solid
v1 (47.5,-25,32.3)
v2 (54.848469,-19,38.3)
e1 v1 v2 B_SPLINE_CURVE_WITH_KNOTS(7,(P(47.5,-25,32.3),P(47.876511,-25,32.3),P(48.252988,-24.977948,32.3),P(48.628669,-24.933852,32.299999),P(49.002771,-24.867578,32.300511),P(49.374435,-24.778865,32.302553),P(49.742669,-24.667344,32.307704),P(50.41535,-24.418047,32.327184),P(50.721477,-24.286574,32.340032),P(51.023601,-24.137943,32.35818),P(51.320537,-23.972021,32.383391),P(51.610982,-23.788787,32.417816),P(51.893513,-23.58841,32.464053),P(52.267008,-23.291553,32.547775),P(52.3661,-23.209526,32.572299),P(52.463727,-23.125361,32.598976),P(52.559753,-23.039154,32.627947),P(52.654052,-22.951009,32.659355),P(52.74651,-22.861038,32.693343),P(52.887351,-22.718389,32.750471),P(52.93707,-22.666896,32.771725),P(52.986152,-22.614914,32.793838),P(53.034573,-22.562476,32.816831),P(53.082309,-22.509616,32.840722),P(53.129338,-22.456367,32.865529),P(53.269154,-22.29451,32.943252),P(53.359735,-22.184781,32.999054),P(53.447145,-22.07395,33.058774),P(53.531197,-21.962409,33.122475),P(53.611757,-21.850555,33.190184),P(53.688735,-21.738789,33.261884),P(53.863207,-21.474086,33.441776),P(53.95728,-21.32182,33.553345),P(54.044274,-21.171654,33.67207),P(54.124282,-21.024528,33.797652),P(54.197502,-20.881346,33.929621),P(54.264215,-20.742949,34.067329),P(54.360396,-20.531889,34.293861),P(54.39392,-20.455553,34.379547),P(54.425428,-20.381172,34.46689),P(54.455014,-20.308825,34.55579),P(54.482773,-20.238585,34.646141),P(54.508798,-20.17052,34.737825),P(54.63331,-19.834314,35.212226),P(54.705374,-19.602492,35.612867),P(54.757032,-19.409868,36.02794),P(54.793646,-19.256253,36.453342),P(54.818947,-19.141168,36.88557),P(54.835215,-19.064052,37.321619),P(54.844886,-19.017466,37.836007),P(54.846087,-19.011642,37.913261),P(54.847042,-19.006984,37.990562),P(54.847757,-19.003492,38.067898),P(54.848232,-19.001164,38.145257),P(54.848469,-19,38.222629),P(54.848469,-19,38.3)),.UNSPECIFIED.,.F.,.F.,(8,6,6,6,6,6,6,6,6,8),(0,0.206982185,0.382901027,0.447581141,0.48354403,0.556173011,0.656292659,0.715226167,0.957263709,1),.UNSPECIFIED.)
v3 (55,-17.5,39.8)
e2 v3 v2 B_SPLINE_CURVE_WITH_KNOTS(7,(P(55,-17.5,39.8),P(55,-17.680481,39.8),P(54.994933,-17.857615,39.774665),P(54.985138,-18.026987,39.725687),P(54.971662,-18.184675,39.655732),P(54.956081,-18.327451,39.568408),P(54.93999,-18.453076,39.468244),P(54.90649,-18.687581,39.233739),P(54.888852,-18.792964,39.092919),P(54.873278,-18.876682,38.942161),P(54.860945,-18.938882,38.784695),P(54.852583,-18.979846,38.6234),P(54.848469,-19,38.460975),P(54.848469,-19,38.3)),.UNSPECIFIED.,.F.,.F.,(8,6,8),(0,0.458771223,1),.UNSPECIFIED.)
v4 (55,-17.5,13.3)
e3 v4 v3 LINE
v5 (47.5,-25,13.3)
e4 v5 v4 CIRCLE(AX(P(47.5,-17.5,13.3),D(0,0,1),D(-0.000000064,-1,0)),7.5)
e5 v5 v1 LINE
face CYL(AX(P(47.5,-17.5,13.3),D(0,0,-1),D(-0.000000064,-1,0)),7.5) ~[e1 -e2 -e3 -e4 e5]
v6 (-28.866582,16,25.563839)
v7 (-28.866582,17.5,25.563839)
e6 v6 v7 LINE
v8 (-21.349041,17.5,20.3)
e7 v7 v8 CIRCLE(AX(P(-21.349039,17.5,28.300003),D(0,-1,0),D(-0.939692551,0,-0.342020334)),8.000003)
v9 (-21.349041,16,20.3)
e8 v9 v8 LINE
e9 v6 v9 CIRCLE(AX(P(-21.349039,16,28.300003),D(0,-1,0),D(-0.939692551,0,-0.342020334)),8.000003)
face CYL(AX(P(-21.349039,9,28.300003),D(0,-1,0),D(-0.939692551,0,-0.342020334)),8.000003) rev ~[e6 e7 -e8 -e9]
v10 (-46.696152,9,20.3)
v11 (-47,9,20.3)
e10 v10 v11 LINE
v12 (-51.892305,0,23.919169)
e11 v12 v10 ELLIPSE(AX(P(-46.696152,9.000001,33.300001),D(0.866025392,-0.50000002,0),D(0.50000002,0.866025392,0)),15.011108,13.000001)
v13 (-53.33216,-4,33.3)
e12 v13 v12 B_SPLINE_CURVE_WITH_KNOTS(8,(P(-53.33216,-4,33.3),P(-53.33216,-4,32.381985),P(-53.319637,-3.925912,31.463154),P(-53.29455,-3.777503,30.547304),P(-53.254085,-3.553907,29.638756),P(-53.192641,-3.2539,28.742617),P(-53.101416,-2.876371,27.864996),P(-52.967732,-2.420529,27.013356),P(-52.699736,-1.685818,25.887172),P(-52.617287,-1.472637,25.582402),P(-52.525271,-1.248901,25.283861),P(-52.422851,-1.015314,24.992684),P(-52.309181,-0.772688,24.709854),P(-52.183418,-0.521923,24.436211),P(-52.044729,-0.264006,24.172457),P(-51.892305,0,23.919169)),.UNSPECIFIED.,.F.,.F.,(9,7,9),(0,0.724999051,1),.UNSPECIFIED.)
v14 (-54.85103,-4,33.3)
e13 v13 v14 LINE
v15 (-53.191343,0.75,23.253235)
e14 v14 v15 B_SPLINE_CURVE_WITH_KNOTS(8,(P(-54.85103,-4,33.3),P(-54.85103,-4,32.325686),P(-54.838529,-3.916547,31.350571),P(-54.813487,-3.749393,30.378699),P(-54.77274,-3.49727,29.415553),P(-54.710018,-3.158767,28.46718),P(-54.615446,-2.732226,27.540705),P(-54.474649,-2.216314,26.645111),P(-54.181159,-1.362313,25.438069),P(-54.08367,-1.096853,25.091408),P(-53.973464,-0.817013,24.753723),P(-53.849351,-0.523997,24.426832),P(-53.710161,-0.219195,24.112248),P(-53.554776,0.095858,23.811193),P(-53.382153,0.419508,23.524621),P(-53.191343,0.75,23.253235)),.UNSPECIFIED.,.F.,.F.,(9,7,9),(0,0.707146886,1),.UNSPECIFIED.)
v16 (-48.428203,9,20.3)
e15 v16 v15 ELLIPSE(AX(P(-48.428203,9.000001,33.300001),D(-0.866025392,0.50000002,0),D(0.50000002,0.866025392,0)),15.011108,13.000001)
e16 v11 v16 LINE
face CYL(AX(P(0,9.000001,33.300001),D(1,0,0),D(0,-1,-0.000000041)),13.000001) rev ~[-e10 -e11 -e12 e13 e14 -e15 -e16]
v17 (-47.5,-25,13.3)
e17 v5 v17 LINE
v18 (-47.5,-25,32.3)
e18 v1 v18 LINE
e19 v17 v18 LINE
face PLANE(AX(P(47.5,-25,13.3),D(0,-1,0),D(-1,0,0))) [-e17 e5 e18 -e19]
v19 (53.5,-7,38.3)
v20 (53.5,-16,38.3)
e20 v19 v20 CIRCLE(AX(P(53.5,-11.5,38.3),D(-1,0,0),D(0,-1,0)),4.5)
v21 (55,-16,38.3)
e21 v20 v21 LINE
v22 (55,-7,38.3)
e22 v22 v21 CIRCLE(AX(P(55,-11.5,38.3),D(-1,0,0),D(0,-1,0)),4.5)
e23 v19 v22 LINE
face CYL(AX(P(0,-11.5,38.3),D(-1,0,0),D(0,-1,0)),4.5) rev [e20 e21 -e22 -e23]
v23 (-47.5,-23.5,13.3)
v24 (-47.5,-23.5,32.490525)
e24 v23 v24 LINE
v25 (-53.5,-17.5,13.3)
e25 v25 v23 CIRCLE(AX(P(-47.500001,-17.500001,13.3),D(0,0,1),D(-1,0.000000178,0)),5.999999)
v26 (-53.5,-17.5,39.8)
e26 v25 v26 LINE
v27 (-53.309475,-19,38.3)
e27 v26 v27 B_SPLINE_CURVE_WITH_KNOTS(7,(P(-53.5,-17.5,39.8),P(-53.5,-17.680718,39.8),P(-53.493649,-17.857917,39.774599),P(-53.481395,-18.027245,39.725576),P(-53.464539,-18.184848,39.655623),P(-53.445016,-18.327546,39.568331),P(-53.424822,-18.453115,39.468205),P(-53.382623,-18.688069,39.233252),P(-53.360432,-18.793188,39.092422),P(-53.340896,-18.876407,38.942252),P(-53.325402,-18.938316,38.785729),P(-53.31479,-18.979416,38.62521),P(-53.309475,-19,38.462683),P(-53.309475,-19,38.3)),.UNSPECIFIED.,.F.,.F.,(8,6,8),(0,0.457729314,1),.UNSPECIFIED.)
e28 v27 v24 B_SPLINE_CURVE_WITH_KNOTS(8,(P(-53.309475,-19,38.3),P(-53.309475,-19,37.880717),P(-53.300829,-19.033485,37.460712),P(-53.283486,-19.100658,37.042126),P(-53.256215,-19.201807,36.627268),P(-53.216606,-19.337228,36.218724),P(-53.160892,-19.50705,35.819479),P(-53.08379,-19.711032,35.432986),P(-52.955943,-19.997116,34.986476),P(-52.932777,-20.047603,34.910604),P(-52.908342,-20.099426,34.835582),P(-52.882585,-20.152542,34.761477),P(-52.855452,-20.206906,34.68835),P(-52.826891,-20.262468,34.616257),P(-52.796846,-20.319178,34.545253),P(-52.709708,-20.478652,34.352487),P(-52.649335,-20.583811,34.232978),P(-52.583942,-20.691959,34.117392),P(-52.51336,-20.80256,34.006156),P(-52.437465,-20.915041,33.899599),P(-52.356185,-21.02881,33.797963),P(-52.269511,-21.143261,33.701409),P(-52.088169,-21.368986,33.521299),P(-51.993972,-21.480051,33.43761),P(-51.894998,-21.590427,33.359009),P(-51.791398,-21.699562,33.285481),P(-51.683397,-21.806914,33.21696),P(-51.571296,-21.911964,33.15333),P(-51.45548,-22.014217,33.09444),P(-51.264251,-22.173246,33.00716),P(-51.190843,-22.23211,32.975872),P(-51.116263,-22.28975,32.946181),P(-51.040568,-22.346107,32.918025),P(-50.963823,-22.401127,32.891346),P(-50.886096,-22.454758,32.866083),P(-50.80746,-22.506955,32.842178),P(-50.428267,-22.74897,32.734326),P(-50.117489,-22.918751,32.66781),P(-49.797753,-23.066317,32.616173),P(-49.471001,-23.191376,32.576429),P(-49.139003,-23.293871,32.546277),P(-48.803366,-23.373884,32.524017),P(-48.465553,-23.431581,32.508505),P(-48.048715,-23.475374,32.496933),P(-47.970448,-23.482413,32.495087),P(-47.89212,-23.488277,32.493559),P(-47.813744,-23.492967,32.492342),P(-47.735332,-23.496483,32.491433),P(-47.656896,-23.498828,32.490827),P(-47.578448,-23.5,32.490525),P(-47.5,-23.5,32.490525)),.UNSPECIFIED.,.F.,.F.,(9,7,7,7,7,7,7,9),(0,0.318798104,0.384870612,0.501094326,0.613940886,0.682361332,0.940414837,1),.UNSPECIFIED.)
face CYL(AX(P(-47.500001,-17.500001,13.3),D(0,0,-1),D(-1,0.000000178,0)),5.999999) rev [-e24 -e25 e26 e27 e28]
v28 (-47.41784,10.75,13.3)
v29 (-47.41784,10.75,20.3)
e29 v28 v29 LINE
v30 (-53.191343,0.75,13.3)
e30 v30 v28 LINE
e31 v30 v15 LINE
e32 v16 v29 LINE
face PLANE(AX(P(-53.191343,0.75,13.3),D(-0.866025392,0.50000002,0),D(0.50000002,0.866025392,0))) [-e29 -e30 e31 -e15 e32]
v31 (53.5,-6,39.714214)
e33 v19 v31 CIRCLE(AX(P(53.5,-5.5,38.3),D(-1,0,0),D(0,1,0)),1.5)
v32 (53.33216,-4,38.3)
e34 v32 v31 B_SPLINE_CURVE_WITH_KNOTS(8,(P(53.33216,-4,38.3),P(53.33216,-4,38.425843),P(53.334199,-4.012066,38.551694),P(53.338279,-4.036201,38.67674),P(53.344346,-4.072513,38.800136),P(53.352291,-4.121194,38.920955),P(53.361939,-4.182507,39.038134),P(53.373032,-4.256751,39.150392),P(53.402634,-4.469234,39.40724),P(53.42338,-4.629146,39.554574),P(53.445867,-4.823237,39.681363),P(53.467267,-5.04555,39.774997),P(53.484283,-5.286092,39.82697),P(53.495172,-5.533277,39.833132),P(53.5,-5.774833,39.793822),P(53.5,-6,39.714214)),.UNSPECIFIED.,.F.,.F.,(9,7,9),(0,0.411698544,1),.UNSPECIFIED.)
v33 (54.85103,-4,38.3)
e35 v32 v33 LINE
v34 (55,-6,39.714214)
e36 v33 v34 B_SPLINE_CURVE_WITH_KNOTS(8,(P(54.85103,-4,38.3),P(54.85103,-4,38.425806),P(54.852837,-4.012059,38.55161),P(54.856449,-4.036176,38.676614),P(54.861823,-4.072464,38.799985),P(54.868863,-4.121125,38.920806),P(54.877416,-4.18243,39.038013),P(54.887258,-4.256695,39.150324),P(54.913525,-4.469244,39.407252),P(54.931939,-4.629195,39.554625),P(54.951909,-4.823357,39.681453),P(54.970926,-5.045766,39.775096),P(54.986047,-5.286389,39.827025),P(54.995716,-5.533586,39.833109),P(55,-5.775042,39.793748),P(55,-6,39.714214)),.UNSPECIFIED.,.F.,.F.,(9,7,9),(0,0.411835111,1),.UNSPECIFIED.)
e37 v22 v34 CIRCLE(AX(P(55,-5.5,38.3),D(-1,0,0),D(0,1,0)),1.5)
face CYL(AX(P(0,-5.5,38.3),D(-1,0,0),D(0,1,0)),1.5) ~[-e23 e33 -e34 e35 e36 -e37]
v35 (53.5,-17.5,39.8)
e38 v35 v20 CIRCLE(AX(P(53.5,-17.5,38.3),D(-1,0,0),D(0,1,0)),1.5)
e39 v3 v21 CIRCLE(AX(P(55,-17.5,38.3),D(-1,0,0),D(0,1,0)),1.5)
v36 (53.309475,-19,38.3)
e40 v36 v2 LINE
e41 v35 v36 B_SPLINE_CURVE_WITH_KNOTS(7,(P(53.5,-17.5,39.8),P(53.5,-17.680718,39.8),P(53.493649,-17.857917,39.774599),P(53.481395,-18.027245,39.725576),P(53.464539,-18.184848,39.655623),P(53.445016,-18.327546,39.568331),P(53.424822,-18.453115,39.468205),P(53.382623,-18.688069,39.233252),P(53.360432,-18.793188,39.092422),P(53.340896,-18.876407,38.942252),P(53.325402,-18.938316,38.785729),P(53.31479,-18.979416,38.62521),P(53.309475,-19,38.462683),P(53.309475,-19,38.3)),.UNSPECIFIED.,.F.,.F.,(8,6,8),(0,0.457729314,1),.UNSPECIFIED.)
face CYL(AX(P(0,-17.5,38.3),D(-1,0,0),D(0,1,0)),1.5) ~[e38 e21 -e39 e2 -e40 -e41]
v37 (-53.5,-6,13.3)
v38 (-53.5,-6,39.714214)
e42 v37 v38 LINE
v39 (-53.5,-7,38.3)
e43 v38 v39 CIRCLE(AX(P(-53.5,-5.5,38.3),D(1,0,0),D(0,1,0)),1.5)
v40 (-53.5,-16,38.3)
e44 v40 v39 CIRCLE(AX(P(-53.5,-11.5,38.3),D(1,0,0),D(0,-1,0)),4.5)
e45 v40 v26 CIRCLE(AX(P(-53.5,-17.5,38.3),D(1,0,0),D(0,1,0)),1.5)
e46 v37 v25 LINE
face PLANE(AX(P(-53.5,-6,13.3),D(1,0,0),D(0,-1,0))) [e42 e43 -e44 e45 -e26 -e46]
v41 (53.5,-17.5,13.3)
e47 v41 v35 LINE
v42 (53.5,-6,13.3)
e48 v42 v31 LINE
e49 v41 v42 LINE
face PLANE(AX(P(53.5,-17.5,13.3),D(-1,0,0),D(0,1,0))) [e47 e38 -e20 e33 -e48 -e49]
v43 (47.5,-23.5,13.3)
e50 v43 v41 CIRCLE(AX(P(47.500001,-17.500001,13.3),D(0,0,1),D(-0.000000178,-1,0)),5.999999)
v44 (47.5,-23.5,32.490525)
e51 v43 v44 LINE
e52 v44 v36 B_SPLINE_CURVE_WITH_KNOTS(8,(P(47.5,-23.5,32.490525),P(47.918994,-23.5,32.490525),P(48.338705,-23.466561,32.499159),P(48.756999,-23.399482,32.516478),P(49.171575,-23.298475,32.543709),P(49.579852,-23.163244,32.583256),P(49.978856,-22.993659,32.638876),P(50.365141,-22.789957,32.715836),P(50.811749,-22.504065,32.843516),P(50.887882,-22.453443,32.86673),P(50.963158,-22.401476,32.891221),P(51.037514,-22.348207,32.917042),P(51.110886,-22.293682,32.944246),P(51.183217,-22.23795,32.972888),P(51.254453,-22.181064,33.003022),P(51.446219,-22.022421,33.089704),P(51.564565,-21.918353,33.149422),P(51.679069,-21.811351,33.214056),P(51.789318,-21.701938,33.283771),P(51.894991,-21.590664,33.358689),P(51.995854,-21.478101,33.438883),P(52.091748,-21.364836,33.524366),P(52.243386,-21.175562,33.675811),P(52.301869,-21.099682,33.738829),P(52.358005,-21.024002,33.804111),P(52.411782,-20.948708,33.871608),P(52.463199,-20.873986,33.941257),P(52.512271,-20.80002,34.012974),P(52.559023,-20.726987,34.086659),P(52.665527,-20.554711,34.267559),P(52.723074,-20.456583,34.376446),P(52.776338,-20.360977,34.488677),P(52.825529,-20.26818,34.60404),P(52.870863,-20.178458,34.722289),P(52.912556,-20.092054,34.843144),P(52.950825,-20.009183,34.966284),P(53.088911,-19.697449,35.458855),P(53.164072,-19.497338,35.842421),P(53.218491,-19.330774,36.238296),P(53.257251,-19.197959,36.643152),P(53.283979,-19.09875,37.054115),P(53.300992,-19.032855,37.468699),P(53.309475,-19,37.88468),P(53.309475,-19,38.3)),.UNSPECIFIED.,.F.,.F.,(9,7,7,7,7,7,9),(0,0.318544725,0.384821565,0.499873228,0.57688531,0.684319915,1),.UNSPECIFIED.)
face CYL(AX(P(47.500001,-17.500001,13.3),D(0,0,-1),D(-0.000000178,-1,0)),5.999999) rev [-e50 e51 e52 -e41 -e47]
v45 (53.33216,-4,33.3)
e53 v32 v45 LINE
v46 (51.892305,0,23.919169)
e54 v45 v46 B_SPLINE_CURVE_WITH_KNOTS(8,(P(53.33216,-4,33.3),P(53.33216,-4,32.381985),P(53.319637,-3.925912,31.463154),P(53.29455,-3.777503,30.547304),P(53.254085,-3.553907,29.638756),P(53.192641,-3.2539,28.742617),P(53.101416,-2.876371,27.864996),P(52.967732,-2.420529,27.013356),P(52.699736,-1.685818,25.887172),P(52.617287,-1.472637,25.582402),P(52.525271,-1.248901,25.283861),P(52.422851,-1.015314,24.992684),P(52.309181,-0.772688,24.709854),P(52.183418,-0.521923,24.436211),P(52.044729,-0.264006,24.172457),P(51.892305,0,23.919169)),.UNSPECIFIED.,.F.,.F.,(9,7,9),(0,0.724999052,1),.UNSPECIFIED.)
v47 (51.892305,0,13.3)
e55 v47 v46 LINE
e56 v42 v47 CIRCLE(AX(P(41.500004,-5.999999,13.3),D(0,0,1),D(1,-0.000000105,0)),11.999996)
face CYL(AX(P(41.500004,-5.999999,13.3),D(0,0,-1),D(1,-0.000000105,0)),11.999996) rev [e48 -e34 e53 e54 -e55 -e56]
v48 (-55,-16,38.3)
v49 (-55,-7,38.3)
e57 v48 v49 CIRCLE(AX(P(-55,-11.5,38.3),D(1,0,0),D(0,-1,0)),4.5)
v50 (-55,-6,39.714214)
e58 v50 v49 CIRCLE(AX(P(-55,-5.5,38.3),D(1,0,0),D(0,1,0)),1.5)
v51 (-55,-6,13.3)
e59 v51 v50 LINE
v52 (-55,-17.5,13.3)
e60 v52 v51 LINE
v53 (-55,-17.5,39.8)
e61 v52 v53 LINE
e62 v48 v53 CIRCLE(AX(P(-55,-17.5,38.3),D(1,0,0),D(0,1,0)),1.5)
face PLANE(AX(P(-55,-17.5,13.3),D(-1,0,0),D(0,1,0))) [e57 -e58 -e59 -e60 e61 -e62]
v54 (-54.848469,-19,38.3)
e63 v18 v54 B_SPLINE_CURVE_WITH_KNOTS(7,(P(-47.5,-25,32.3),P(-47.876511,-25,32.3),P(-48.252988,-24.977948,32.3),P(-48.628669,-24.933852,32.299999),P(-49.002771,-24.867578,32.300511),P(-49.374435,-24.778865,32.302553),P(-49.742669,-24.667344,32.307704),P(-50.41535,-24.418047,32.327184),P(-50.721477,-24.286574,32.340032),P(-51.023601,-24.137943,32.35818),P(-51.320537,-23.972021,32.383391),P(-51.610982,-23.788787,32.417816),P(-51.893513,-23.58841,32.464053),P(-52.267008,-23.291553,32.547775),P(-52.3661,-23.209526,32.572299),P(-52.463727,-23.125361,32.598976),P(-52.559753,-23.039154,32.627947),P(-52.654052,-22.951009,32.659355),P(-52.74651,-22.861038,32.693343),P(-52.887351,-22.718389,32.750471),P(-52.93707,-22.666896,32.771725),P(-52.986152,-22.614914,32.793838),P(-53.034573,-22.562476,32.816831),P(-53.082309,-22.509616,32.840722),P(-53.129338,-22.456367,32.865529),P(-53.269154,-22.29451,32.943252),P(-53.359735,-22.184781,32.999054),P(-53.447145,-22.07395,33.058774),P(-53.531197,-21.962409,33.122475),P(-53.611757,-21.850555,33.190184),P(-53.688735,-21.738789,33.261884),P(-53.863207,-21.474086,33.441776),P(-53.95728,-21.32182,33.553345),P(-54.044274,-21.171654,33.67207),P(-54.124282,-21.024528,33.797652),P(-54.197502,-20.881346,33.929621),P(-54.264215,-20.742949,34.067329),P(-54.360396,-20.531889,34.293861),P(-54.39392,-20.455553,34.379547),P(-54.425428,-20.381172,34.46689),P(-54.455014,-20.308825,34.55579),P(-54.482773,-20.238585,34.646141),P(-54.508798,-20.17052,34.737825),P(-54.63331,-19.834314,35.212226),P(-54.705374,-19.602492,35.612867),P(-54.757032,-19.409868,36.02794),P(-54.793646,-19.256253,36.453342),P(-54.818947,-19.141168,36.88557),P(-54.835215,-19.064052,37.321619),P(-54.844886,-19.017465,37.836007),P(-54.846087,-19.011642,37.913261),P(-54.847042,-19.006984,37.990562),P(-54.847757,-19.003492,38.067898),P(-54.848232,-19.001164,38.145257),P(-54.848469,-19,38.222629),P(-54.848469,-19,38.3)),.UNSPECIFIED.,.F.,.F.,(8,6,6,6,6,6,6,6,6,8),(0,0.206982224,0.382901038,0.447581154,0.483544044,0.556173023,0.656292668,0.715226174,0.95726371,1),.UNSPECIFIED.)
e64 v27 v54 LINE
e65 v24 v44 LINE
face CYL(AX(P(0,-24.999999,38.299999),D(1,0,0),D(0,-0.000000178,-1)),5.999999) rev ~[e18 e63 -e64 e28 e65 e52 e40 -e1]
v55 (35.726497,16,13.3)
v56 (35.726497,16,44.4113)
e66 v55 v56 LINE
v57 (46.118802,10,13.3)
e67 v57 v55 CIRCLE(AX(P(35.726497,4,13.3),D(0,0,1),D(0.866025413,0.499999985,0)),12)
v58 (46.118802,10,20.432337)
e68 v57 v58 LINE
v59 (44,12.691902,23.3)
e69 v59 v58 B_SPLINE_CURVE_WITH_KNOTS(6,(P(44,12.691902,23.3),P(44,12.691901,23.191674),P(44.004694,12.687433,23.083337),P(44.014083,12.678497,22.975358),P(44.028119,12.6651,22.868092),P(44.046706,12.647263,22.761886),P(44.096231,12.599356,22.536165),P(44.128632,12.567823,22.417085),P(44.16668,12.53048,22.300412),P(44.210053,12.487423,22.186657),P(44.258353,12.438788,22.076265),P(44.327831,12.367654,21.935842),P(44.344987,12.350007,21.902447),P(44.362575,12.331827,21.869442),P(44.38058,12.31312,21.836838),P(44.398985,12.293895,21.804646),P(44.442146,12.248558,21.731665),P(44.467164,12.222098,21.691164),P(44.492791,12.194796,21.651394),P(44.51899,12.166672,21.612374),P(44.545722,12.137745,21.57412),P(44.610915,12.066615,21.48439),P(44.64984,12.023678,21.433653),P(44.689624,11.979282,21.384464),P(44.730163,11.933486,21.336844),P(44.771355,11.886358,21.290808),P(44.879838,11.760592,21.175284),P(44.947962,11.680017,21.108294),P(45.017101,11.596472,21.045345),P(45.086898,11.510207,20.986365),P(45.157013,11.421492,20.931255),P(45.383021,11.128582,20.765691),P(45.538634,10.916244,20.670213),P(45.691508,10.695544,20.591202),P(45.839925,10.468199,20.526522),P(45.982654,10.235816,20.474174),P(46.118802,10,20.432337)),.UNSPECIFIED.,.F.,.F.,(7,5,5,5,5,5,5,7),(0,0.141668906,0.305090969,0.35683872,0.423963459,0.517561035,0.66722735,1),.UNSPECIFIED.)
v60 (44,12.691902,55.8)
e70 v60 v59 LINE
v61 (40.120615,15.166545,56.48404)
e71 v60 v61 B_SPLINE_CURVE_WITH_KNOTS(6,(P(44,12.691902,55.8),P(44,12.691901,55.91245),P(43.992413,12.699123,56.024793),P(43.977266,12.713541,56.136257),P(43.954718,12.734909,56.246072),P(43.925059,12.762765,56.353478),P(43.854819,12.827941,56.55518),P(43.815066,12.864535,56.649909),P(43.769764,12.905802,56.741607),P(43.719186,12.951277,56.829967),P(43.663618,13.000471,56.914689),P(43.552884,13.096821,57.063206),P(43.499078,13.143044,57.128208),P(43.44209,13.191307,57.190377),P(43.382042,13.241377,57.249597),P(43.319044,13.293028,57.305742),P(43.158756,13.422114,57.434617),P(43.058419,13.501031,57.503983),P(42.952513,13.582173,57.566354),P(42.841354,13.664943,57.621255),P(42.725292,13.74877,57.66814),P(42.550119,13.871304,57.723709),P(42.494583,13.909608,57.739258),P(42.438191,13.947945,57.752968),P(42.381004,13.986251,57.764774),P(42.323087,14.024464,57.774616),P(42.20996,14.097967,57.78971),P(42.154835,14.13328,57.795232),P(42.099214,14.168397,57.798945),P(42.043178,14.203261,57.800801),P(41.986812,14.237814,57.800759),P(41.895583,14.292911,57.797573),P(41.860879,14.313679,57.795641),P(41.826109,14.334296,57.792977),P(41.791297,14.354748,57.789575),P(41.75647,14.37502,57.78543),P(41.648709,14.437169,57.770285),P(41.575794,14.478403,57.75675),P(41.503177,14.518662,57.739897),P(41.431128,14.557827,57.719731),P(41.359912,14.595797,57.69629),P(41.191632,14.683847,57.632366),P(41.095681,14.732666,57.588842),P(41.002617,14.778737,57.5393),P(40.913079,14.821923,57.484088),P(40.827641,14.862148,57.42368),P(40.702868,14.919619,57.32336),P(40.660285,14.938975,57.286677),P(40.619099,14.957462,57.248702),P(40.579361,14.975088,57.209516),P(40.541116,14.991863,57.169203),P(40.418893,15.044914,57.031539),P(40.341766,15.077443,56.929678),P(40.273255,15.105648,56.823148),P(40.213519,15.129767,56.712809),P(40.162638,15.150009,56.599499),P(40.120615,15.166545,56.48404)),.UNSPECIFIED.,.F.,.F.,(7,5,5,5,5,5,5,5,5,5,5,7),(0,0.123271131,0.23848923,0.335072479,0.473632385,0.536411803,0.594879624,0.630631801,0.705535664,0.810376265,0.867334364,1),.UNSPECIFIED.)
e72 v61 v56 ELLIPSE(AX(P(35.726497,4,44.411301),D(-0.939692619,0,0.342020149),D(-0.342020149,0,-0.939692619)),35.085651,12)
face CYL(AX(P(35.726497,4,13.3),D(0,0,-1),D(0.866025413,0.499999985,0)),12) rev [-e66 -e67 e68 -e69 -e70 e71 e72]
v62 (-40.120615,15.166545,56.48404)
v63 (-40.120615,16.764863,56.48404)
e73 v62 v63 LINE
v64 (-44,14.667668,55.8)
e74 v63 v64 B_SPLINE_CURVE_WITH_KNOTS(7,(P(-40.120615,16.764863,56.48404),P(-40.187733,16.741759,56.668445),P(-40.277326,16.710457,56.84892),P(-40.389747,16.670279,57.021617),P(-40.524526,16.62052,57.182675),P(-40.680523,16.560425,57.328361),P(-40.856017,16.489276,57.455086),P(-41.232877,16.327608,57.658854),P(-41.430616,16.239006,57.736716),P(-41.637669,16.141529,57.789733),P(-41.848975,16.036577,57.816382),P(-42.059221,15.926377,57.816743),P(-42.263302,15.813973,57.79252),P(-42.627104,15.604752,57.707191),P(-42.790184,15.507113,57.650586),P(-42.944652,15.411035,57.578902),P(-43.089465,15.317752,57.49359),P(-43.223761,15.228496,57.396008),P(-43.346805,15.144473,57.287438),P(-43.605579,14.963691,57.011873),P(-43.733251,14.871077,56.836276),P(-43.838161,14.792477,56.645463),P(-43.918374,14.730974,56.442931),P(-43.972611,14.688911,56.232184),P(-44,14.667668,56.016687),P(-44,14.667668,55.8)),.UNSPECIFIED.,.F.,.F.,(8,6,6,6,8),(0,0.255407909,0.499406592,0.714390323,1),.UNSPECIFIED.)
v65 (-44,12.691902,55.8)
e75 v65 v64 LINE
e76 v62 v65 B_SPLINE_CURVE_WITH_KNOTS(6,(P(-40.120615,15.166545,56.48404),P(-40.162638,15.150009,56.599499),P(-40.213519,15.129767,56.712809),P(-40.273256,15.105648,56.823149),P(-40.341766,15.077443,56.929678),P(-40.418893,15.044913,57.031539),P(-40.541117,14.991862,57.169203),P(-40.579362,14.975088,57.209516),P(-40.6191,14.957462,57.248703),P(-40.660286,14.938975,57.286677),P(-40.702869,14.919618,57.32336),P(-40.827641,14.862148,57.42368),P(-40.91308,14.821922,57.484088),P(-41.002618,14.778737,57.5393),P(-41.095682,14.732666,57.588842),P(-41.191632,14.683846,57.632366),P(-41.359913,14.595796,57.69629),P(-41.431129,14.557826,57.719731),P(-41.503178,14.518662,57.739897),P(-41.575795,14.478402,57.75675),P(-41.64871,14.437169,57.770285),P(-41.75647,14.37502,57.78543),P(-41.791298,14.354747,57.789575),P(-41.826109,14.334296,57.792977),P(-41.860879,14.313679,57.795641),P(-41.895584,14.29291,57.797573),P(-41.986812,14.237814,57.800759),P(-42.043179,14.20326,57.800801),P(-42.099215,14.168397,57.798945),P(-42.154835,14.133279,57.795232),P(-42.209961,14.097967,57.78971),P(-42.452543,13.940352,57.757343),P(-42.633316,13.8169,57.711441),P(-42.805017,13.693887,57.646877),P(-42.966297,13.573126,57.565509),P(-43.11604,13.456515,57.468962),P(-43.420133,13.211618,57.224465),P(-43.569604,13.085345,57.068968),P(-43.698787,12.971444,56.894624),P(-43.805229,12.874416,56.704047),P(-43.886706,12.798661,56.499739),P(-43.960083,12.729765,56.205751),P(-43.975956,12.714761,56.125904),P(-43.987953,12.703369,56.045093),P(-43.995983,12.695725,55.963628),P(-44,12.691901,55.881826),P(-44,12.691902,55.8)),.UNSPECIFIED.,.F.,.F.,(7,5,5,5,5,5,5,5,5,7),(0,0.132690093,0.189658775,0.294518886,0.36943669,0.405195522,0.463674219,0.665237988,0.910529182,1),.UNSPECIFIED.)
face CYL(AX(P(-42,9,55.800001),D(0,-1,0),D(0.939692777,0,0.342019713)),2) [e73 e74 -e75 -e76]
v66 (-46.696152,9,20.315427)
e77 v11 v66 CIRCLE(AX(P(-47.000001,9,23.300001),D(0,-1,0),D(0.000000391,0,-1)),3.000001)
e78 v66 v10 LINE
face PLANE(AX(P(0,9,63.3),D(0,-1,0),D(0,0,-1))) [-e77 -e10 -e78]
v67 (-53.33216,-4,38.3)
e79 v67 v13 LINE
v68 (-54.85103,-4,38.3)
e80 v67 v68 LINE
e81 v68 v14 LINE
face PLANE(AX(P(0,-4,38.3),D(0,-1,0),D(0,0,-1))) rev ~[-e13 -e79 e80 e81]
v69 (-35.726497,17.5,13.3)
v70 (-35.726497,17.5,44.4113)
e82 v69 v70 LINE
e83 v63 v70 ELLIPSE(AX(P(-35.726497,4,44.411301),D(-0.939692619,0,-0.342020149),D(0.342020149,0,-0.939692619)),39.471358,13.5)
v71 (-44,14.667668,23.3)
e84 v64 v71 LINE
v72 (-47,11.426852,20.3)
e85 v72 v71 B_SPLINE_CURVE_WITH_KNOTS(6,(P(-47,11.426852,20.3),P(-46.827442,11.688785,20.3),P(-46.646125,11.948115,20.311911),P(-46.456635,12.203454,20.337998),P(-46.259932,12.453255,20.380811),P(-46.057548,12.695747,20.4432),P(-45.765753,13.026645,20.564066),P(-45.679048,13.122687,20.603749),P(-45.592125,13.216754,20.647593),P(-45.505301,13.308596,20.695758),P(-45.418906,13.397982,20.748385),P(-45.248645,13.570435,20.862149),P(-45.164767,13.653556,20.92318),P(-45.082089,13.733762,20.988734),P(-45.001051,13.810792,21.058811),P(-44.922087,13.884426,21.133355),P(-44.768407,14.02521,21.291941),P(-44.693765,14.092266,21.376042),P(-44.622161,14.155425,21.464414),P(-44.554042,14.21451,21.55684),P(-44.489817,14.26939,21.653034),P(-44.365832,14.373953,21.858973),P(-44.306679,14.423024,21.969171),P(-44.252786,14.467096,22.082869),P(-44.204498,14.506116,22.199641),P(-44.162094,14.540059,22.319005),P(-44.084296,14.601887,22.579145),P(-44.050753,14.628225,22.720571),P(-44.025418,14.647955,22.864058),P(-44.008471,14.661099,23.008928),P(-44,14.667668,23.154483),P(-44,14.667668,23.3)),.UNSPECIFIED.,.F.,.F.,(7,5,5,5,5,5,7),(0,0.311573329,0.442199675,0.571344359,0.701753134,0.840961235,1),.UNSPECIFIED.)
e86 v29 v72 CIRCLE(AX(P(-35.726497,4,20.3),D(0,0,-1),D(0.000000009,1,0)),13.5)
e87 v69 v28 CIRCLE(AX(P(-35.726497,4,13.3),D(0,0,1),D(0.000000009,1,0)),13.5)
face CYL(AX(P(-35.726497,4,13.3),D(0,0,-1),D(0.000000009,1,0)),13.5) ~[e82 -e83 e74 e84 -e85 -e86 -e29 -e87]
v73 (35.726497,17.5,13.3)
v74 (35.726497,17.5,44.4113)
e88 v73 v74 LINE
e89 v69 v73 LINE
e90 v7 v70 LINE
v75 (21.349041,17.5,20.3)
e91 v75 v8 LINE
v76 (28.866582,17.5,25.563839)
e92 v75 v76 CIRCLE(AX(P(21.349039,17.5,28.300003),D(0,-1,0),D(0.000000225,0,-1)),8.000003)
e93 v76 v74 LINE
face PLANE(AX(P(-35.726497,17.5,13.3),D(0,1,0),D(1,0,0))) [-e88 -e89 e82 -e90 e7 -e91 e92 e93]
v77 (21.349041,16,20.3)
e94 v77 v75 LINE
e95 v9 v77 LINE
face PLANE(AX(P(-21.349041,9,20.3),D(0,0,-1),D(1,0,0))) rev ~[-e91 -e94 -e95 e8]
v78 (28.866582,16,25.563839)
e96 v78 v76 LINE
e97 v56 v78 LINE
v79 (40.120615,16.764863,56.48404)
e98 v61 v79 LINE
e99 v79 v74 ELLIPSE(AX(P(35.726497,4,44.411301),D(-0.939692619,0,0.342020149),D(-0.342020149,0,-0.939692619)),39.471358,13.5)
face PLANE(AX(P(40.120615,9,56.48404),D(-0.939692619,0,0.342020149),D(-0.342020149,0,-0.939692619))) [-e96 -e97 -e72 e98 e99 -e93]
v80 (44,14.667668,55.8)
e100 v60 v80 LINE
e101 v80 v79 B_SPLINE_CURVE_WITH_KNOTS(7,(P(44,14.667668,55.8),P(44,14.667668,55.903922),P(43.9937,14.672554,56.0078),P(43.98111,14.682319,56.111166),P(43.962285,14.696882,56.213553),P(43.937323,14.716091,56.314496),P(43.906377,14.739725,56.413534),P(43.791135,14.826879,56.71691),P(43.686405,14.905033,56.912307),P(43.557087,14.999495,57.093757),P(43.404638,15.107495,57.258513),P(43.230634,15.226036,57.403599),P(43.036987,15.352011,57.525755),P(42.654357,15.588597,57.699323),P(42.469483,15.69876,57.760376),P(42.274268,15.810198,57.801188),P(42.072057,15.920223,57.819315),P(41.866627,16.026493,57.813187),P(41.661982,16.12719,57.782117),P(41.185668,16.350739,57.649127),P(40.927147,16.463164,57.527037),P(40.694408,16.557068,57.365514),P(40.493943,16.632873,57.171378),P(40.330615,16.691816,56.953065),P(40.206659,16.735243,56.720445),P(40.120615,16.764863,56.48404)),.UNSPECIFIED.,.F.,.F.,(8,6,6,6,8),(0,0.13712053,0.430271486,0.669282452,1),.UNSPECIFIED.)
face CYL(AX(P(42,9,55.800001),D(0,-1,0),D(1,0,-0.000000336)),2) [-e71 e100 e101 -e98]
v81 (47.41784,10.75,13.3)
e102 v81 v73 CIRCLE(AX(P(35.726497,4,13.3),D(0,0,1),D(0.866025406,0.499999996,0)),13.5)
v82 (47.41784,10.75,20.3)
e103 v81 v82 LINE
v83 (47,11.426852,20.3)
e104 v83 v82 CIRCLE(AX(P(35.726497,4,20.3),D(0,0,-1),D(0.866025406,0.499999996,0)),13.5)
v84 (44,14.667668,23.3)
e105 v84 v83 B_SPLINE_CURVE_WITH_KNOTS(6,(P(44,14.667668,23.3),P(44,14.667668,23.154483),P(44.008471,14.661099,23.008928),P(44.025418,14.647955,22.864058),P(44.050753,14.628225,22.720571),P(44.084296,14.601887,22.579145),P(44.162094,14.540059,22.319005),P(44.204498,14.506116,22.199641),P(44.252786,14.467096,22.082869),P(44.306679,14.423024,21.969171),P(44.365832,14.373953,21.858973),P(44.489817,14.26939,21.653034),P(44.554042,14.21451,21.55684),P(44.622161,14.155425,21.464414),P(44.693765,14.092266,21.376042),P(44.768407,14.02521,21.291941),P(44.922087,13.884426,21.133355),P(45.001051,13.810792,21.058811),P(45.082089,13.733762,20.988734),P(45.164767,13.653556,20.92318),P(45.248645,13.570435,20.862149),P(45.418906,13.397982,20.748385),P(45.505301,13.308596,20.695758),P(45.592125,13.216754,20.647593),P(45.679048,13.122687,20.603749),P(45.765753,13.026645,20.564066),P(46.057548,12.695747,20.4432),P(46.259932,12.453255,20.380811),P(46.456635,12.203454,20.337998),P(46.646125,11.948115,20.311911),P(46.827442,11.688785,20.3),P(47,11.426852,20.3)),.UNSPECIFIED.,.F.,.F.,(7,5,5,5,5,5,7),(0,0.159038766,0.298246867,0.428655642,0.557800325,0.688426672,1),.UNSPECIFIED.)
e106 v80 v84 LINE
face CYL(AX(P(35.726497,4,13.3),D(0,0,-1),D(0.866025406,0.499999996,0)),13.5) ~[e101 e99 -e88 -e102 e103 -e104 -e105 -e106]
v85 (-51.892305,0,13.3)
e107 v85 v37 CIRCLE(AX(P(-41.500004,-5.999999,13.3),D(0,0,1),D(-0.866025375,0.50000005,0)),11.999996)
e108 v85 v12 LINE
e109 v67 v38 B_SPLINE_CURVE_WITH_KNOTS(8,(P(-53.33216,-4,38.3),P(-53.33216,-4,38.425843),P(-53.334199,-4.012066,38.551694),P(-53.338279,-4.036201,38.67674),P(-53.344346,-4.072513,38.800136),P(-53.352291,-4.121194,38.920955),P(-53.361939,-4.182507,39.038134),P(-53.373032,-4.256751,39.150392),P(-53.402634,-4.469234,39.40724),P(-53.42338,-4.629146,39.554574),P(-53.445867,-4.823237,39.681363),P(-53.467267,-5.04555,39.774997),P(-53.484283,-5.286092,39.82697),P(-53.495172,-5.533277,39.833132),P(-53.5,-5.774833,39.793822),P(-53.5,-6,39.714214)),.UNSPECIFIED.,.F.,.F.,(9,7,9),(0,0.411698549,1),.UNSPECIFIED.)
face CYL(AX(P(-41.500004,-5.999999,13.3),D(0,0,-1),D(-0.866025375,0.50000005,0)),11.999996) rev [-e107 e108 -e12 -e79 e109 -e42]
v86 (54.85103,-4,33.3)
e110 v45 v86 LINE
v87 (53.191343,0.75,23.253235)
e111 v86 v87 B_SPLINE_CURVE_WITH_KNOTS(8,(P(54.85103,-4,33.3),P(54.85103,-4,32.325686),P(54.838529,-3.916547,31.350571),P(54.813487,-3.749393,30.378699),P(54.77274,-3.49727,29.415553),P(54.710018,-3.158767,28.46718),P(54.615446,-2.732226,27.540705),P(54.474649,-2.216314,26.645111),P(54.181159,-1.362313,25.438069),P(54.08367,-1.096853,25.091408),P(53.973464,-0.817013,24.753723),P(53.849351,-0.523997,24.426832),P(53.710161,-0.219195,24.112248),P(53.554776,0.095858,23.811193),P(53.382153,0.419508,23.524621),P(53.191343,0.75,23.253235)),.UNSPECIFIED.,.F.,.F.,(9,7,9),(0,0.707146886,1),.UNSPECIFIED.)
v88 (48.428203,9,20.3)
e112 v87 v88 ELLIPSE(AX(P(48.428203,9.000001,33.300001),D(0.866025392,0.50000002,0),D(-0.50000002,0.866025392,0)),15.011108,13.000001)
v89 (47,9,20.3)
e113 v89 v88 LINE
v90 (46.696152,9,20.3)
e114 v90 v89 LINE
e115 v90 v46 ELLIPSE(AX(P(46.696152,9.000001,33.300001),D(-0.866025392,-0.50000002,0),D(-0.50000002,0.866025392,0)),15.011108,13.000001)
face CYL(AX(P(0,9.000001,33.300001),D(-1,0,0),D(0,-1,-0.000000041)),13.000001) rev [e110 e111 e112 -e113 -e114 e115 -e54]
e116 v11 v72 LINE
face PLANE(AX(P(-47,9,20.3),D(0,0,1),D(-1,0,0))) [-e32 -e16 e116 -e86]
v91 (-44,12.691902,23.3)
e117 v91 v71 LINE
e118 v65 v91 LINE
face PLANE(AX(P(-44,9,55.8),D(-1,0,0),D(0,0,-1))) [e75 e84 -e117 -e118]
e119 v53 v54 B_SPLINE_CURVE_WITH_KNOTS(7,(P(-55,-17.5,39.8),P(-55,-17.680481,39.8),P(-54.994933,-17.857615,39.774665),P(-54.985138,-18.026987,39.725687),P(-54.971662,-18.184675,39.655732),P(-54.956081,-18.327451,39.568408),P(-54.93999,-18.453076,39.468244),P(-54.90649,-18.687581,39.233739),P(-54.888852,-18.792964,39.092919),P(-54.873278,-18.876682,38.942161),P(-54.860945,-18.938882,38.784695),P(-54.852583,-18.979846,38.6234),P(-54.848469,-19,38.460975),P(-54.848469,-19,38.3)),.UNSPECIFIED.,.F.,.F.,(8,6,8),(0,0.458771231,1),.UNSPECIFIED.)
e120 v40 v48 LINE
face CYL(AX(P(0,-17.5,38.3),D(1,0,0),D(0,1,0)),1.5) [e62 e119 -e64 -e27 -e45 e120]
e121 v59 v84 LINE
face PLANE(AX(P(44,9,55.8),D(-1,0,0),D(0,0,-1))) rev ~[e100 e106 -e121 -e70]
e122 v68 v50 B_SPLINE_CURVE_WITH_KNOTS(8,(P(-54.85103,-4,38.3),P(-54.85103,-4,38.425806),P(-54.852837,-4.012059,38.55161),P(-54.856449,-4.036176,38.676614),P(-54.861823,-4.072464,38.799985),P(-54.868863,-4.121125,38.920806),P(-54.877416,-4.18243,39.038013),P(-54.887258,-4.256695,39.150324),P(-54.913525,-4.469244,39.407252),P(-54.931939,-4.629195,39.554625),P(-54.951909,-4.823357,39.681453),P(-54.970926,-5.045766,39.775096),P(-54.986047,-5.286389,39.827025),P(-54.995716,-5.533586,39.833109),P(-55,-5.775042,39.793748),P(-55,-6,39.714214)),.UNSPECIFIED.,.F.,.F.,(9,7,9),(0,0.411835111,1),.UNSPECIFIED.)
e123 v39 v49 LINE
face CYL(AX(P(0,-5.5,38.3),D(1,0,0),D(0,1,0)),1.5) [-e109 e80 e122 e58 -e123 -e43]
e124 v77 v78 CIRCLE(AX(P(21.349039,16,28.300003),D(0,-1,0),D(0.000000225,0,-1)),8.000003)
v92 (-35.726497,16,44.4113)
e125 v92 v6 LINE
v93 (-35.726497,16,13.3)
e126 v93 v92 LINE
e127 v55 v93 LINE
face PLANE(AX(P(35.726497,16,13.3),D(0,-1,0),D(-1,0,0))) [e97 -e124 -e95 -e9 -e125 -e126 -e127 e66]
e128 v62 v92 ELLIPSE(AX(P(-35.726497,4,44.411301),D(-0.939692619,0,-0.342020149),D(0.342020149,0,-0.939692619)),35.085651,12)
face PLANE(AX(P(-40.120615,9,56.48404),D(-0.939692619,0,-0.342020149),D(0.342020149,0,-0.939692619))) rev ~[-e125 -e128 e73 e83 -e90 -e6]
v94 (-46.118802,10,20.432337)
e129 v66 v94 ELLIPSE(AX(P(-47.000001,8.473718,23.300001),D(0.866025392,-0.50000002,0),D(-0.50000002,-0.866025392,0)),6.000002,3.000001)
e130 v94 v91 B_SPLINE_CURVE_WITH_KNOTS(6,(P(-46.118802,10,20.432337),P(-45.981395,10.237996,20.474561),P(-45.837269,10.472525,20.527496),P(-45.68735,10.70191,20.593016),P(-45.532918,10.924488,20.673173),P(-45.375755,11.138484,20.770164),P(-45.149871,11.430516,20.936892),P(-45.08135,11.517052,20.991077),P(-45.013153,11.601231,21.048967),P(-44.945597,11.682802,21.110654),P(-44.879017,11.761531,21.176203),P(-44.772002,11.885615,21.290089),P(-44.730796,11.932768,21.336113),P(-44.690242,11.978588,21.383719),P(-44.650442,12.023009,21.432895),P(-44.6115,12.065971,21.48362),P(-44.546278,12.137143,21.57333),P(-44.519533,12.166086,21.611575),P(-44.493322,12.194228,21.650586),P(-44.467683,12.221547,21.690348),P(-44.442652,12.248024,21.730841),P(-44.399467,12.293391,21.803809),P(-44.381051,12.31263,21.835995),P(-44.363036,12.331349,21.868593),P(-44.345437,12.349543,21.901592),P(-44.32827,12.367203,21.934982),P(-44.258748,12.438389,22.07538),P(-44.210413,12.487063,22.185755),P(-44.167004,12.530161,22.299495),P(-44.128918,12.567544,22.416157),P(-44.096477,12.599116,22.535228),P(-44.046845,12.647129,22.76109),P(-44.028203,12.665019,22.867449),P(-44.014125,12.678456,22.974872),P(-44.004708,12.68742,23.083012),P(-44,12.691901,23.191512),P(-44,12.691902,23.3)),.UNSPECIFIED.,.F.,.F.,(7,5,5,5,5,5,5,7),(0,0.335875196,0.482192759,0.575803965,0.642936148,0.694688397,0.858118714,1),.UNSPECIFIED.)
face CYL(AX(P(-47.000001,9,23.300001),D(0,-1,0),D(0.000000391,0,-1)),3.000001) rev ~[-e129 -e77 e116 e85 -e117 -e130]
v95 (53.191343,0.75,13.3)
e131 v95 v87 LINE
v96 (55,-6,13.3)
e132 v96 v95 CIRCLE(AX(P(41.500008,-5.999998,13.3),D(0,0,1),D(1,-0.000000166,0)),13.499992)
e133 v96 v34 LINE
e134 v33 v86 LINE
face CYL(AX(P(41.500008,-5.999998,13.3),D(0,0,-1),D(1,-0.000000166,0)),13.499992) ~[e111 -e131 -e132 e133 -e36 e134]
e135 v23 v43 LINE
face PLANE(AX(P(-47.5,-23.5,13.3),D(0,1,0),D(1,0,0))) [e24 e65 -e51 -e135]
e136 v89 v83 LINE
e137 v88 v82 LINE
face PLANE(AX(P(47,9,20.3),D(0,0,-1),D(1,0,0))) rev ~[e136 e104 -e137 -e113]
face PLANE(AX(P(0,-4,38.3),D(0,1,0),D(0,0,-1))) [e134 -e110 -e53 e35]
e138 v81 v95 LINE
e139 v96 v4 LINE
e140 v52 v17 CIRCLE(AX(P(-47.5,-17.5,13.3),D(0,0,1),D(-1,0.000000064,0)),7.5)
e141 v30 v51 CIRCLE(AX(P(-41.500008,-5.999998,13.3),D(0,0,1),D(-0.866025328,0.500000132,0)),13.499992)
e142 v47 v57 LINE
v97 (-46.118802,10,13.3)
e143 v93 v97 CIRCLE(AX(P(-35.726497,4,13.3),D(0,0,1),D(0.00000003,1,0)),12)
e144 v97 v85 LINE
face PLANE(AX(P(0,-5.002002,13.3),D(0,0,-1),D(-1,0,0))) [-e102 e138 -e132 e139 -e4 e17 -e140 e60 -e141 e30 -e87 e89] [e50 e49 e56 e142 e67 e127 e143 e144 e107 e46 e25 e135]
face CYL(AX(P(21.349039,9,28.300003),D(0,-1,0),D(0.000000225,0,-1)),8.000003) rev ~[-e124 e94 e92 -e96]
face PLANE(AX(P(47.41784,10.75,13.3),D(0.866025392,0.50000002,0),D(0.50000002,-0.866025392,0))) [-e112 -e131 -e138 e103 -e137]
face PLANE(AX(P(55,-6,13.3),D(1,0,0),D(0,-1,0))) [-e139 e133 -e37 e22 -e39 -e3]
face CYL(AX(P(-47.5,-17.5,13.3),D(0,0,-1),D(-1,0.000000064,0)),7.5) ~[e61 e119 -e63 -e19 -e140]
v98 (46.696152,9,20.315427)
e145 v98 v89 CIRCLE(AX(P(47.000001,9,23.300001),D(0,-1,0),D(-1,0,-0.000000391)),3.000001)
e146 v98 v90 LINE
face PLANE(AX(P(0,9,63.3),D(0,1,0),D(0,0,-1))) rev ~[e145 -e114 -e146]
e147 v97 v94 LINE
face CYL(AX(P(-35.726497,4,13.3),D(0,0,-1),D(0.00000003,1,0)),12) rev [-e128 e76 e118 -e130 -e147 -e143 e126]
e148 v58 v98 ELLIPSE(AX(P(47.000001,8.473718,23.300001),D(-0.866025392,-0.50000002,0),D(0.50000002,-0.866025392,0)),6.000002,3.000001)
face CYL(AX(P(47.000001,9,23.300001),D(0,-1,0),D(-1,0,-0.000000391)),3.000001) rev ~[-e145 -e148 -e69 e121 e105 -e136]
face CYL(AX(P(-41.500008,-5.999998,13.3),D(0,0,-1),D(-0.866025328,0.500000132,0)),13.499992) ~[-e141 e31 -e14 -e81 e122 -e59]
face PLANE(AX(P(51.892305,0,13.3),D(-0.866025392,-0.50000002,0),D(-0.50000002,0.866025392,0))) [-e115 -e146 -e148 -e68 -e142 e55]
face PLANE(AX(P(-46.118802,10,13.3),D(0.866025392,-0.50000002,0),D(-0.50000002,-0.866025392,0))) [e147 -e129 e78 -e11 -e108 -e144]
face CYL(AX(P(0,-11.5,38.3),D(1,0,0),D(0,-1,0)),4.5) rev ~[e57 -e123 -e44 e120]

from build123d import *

# Parameters (mm, degrees)
PAD041_DEPTH         = 45
POCKET020_DEPTH      = 55.001
POCKET020_DEPTH_BACK = 55.001
POCKET021_DEPTH      = 8.501


with BuildPart() as part:
    # Sketch123 → Pad041 (new body)
    with BuildSketch(Plane.XY):
        with BuildLine():
            Line((-55, -17.5), (-55, -6))
            ThreePointArc((-53.191343, 0.75), (-54.539999, -2.505943), (-55, -6))
            Line((-53.191343, 0.75), (-47.41784, 10.75))
            ThreePointArc((-35.726497, 17.5), (-42.476497, 15.691343), (-47.41784, 10.75))
            Line((-35.726497, 17.5), (35.726497, 17.5))
            ThreePointArc((47.41784, 10.75), (42.476497, 15.691343), (35.726497, 17.5))
            Line((47.41784, 10.75), (53.191343, 0.75))
            ThreePointArc((55, -6), (54.539999, -2.505943), (53.191343, 0.75))
            Line((55, -6), (55, -17.5))
            ThreePointArc((47.5, -25), (52.803301, -22.803301), (55, -17.5))
            Line((47.5, -25), (-47.5, -25))
            ThreePointArc((-55, -17.5), (-52.803301, -22.803301), (-47.5, -25))
        make_face()
        with BuildLine():
            Line((53.5, -17.5), (53.5, -6))
            ThreePointArc((53.5, -6), (53.09111, -2.894171), (51.892305, 0))
            Line((51.892305, 0), (46.118802, 10))
            ThreePointArc((46.118802, 10), (41.726497, 14.392305), (35.726497, 16))
            Line((35.726497, 16), (-35.726497, 16))
            ThreePointArc((-35.726497, 16), (-41.726497, 14.392305), (-46.118802, 10))
            Line((-46.118802, 10), (-51.892305, 0))
            ThreePointArc((-51.892305, 0), (-53.09111, -2.894171), (-53.5, -6))
            Line((-53.5, -6), (-53.5, -17.5))
            ThreePointArc((-53.5, -17.5), (-51.742641, -21.742641), (-47.5, -23.5))
            Line((-47.5, -23.5), (47.5, -23.5))
            ThreePointArc((47.5, -23.5), (51.742641, -21.742641), (53.5, -17.5))
        make_face(mode=Mode.SUBTRACT)
    extrude(amount=PAD041_DEPTH)

    # Sketch124 → Pocket020 (cut, two sides)
    with BuildSketch(Plane.YZ) as pocket020_sk:
        with BuildLine():
            ThreePointArc((-16, 25), (-11.5, 20.5), (-7, 25))
            ThreePointArc((-4, 25), (-5.5, 26.5), (-7, 25))
            Line((-4, 25), (-4, 20))
            ThreePointArc((-4, 20), (-0.192388, 10.807612), (9, 7))
            Line((9, 50), (9, 7))
            Line((-26.5, 50), (9, 50))
            Line((-26.5, 20.5), (-26.5, 50))
            ThreePointArc((-26.5, 20.5), (-26.06066, 19.43934), (-25, 19))
            ThreePointArc((-25, 19), (-20.757359, 20.757359), (-19, 25))
            ThreePointArc((-16, 25), (-17.5, 26.5), (-19, 25))
        make_face()
    extrude(amount=-POCKET020_DEPTH, mode=Mode.SUBTRACT)
    extrude(pocket020_sk.sketch, amount=POCKET020_DEPTH_BACK, mode=Mode.SUBTRACT)

    # Sketch125 (on DatumPlane) → Pocket021 (cut, through all)
    with BuildSketch(Plane(origin=(0, 9, 7), x_dir=(1, 0, 0), z_dir=(0, -1, 0))):
        with BuildLine():
            ThreePointArc((44, 35.5), (42.347296, 37.469616), (40.120615, 36.18404))
            Line((40.120615, 36.18404), (28.866582, 5.263839))
            ThreePointArc((21.349041, 0), (25.937652, 1.446784), (28.866582, 5.263839))
            Line((-21.349041, 0), (21.349041, 0))
            ThreePointArc((-28.866582, 5.263839), (-25.937652, 1.446784), (-21.349041, 0))
            Line((-40.120615, 36.18404), (-28.866582, 5.263839))
            ThreePointArc((-40.120615, 36.18404), (-42.347296, 37.469616), (-44, 35.5))
            Line((-44, 35.5), (-44, 3))
            ThreePointArc((-47, 0), (-44.87868, 0.87868), (-44, 3))
            Line((-47, 0), (-65, 0))
            ThreePointArc((65, 0), (0, 65), (-65, 0))
            Line((47, 0), (65, 0))
            ThreePointArc((44, 3), (44.87868, 0.87868), (47, 0))
            Line((44, 35.5), (44, 3))
        make_face()
    extrude(amount=-POCKET021_DEPTH, mode=Mode.SUBTRACT)


with BuildPart() as part_1:
    # Body020 placement: moved
    add(part.part.moved(Location((0, 0, 13.3))))


solid = part_1.part
